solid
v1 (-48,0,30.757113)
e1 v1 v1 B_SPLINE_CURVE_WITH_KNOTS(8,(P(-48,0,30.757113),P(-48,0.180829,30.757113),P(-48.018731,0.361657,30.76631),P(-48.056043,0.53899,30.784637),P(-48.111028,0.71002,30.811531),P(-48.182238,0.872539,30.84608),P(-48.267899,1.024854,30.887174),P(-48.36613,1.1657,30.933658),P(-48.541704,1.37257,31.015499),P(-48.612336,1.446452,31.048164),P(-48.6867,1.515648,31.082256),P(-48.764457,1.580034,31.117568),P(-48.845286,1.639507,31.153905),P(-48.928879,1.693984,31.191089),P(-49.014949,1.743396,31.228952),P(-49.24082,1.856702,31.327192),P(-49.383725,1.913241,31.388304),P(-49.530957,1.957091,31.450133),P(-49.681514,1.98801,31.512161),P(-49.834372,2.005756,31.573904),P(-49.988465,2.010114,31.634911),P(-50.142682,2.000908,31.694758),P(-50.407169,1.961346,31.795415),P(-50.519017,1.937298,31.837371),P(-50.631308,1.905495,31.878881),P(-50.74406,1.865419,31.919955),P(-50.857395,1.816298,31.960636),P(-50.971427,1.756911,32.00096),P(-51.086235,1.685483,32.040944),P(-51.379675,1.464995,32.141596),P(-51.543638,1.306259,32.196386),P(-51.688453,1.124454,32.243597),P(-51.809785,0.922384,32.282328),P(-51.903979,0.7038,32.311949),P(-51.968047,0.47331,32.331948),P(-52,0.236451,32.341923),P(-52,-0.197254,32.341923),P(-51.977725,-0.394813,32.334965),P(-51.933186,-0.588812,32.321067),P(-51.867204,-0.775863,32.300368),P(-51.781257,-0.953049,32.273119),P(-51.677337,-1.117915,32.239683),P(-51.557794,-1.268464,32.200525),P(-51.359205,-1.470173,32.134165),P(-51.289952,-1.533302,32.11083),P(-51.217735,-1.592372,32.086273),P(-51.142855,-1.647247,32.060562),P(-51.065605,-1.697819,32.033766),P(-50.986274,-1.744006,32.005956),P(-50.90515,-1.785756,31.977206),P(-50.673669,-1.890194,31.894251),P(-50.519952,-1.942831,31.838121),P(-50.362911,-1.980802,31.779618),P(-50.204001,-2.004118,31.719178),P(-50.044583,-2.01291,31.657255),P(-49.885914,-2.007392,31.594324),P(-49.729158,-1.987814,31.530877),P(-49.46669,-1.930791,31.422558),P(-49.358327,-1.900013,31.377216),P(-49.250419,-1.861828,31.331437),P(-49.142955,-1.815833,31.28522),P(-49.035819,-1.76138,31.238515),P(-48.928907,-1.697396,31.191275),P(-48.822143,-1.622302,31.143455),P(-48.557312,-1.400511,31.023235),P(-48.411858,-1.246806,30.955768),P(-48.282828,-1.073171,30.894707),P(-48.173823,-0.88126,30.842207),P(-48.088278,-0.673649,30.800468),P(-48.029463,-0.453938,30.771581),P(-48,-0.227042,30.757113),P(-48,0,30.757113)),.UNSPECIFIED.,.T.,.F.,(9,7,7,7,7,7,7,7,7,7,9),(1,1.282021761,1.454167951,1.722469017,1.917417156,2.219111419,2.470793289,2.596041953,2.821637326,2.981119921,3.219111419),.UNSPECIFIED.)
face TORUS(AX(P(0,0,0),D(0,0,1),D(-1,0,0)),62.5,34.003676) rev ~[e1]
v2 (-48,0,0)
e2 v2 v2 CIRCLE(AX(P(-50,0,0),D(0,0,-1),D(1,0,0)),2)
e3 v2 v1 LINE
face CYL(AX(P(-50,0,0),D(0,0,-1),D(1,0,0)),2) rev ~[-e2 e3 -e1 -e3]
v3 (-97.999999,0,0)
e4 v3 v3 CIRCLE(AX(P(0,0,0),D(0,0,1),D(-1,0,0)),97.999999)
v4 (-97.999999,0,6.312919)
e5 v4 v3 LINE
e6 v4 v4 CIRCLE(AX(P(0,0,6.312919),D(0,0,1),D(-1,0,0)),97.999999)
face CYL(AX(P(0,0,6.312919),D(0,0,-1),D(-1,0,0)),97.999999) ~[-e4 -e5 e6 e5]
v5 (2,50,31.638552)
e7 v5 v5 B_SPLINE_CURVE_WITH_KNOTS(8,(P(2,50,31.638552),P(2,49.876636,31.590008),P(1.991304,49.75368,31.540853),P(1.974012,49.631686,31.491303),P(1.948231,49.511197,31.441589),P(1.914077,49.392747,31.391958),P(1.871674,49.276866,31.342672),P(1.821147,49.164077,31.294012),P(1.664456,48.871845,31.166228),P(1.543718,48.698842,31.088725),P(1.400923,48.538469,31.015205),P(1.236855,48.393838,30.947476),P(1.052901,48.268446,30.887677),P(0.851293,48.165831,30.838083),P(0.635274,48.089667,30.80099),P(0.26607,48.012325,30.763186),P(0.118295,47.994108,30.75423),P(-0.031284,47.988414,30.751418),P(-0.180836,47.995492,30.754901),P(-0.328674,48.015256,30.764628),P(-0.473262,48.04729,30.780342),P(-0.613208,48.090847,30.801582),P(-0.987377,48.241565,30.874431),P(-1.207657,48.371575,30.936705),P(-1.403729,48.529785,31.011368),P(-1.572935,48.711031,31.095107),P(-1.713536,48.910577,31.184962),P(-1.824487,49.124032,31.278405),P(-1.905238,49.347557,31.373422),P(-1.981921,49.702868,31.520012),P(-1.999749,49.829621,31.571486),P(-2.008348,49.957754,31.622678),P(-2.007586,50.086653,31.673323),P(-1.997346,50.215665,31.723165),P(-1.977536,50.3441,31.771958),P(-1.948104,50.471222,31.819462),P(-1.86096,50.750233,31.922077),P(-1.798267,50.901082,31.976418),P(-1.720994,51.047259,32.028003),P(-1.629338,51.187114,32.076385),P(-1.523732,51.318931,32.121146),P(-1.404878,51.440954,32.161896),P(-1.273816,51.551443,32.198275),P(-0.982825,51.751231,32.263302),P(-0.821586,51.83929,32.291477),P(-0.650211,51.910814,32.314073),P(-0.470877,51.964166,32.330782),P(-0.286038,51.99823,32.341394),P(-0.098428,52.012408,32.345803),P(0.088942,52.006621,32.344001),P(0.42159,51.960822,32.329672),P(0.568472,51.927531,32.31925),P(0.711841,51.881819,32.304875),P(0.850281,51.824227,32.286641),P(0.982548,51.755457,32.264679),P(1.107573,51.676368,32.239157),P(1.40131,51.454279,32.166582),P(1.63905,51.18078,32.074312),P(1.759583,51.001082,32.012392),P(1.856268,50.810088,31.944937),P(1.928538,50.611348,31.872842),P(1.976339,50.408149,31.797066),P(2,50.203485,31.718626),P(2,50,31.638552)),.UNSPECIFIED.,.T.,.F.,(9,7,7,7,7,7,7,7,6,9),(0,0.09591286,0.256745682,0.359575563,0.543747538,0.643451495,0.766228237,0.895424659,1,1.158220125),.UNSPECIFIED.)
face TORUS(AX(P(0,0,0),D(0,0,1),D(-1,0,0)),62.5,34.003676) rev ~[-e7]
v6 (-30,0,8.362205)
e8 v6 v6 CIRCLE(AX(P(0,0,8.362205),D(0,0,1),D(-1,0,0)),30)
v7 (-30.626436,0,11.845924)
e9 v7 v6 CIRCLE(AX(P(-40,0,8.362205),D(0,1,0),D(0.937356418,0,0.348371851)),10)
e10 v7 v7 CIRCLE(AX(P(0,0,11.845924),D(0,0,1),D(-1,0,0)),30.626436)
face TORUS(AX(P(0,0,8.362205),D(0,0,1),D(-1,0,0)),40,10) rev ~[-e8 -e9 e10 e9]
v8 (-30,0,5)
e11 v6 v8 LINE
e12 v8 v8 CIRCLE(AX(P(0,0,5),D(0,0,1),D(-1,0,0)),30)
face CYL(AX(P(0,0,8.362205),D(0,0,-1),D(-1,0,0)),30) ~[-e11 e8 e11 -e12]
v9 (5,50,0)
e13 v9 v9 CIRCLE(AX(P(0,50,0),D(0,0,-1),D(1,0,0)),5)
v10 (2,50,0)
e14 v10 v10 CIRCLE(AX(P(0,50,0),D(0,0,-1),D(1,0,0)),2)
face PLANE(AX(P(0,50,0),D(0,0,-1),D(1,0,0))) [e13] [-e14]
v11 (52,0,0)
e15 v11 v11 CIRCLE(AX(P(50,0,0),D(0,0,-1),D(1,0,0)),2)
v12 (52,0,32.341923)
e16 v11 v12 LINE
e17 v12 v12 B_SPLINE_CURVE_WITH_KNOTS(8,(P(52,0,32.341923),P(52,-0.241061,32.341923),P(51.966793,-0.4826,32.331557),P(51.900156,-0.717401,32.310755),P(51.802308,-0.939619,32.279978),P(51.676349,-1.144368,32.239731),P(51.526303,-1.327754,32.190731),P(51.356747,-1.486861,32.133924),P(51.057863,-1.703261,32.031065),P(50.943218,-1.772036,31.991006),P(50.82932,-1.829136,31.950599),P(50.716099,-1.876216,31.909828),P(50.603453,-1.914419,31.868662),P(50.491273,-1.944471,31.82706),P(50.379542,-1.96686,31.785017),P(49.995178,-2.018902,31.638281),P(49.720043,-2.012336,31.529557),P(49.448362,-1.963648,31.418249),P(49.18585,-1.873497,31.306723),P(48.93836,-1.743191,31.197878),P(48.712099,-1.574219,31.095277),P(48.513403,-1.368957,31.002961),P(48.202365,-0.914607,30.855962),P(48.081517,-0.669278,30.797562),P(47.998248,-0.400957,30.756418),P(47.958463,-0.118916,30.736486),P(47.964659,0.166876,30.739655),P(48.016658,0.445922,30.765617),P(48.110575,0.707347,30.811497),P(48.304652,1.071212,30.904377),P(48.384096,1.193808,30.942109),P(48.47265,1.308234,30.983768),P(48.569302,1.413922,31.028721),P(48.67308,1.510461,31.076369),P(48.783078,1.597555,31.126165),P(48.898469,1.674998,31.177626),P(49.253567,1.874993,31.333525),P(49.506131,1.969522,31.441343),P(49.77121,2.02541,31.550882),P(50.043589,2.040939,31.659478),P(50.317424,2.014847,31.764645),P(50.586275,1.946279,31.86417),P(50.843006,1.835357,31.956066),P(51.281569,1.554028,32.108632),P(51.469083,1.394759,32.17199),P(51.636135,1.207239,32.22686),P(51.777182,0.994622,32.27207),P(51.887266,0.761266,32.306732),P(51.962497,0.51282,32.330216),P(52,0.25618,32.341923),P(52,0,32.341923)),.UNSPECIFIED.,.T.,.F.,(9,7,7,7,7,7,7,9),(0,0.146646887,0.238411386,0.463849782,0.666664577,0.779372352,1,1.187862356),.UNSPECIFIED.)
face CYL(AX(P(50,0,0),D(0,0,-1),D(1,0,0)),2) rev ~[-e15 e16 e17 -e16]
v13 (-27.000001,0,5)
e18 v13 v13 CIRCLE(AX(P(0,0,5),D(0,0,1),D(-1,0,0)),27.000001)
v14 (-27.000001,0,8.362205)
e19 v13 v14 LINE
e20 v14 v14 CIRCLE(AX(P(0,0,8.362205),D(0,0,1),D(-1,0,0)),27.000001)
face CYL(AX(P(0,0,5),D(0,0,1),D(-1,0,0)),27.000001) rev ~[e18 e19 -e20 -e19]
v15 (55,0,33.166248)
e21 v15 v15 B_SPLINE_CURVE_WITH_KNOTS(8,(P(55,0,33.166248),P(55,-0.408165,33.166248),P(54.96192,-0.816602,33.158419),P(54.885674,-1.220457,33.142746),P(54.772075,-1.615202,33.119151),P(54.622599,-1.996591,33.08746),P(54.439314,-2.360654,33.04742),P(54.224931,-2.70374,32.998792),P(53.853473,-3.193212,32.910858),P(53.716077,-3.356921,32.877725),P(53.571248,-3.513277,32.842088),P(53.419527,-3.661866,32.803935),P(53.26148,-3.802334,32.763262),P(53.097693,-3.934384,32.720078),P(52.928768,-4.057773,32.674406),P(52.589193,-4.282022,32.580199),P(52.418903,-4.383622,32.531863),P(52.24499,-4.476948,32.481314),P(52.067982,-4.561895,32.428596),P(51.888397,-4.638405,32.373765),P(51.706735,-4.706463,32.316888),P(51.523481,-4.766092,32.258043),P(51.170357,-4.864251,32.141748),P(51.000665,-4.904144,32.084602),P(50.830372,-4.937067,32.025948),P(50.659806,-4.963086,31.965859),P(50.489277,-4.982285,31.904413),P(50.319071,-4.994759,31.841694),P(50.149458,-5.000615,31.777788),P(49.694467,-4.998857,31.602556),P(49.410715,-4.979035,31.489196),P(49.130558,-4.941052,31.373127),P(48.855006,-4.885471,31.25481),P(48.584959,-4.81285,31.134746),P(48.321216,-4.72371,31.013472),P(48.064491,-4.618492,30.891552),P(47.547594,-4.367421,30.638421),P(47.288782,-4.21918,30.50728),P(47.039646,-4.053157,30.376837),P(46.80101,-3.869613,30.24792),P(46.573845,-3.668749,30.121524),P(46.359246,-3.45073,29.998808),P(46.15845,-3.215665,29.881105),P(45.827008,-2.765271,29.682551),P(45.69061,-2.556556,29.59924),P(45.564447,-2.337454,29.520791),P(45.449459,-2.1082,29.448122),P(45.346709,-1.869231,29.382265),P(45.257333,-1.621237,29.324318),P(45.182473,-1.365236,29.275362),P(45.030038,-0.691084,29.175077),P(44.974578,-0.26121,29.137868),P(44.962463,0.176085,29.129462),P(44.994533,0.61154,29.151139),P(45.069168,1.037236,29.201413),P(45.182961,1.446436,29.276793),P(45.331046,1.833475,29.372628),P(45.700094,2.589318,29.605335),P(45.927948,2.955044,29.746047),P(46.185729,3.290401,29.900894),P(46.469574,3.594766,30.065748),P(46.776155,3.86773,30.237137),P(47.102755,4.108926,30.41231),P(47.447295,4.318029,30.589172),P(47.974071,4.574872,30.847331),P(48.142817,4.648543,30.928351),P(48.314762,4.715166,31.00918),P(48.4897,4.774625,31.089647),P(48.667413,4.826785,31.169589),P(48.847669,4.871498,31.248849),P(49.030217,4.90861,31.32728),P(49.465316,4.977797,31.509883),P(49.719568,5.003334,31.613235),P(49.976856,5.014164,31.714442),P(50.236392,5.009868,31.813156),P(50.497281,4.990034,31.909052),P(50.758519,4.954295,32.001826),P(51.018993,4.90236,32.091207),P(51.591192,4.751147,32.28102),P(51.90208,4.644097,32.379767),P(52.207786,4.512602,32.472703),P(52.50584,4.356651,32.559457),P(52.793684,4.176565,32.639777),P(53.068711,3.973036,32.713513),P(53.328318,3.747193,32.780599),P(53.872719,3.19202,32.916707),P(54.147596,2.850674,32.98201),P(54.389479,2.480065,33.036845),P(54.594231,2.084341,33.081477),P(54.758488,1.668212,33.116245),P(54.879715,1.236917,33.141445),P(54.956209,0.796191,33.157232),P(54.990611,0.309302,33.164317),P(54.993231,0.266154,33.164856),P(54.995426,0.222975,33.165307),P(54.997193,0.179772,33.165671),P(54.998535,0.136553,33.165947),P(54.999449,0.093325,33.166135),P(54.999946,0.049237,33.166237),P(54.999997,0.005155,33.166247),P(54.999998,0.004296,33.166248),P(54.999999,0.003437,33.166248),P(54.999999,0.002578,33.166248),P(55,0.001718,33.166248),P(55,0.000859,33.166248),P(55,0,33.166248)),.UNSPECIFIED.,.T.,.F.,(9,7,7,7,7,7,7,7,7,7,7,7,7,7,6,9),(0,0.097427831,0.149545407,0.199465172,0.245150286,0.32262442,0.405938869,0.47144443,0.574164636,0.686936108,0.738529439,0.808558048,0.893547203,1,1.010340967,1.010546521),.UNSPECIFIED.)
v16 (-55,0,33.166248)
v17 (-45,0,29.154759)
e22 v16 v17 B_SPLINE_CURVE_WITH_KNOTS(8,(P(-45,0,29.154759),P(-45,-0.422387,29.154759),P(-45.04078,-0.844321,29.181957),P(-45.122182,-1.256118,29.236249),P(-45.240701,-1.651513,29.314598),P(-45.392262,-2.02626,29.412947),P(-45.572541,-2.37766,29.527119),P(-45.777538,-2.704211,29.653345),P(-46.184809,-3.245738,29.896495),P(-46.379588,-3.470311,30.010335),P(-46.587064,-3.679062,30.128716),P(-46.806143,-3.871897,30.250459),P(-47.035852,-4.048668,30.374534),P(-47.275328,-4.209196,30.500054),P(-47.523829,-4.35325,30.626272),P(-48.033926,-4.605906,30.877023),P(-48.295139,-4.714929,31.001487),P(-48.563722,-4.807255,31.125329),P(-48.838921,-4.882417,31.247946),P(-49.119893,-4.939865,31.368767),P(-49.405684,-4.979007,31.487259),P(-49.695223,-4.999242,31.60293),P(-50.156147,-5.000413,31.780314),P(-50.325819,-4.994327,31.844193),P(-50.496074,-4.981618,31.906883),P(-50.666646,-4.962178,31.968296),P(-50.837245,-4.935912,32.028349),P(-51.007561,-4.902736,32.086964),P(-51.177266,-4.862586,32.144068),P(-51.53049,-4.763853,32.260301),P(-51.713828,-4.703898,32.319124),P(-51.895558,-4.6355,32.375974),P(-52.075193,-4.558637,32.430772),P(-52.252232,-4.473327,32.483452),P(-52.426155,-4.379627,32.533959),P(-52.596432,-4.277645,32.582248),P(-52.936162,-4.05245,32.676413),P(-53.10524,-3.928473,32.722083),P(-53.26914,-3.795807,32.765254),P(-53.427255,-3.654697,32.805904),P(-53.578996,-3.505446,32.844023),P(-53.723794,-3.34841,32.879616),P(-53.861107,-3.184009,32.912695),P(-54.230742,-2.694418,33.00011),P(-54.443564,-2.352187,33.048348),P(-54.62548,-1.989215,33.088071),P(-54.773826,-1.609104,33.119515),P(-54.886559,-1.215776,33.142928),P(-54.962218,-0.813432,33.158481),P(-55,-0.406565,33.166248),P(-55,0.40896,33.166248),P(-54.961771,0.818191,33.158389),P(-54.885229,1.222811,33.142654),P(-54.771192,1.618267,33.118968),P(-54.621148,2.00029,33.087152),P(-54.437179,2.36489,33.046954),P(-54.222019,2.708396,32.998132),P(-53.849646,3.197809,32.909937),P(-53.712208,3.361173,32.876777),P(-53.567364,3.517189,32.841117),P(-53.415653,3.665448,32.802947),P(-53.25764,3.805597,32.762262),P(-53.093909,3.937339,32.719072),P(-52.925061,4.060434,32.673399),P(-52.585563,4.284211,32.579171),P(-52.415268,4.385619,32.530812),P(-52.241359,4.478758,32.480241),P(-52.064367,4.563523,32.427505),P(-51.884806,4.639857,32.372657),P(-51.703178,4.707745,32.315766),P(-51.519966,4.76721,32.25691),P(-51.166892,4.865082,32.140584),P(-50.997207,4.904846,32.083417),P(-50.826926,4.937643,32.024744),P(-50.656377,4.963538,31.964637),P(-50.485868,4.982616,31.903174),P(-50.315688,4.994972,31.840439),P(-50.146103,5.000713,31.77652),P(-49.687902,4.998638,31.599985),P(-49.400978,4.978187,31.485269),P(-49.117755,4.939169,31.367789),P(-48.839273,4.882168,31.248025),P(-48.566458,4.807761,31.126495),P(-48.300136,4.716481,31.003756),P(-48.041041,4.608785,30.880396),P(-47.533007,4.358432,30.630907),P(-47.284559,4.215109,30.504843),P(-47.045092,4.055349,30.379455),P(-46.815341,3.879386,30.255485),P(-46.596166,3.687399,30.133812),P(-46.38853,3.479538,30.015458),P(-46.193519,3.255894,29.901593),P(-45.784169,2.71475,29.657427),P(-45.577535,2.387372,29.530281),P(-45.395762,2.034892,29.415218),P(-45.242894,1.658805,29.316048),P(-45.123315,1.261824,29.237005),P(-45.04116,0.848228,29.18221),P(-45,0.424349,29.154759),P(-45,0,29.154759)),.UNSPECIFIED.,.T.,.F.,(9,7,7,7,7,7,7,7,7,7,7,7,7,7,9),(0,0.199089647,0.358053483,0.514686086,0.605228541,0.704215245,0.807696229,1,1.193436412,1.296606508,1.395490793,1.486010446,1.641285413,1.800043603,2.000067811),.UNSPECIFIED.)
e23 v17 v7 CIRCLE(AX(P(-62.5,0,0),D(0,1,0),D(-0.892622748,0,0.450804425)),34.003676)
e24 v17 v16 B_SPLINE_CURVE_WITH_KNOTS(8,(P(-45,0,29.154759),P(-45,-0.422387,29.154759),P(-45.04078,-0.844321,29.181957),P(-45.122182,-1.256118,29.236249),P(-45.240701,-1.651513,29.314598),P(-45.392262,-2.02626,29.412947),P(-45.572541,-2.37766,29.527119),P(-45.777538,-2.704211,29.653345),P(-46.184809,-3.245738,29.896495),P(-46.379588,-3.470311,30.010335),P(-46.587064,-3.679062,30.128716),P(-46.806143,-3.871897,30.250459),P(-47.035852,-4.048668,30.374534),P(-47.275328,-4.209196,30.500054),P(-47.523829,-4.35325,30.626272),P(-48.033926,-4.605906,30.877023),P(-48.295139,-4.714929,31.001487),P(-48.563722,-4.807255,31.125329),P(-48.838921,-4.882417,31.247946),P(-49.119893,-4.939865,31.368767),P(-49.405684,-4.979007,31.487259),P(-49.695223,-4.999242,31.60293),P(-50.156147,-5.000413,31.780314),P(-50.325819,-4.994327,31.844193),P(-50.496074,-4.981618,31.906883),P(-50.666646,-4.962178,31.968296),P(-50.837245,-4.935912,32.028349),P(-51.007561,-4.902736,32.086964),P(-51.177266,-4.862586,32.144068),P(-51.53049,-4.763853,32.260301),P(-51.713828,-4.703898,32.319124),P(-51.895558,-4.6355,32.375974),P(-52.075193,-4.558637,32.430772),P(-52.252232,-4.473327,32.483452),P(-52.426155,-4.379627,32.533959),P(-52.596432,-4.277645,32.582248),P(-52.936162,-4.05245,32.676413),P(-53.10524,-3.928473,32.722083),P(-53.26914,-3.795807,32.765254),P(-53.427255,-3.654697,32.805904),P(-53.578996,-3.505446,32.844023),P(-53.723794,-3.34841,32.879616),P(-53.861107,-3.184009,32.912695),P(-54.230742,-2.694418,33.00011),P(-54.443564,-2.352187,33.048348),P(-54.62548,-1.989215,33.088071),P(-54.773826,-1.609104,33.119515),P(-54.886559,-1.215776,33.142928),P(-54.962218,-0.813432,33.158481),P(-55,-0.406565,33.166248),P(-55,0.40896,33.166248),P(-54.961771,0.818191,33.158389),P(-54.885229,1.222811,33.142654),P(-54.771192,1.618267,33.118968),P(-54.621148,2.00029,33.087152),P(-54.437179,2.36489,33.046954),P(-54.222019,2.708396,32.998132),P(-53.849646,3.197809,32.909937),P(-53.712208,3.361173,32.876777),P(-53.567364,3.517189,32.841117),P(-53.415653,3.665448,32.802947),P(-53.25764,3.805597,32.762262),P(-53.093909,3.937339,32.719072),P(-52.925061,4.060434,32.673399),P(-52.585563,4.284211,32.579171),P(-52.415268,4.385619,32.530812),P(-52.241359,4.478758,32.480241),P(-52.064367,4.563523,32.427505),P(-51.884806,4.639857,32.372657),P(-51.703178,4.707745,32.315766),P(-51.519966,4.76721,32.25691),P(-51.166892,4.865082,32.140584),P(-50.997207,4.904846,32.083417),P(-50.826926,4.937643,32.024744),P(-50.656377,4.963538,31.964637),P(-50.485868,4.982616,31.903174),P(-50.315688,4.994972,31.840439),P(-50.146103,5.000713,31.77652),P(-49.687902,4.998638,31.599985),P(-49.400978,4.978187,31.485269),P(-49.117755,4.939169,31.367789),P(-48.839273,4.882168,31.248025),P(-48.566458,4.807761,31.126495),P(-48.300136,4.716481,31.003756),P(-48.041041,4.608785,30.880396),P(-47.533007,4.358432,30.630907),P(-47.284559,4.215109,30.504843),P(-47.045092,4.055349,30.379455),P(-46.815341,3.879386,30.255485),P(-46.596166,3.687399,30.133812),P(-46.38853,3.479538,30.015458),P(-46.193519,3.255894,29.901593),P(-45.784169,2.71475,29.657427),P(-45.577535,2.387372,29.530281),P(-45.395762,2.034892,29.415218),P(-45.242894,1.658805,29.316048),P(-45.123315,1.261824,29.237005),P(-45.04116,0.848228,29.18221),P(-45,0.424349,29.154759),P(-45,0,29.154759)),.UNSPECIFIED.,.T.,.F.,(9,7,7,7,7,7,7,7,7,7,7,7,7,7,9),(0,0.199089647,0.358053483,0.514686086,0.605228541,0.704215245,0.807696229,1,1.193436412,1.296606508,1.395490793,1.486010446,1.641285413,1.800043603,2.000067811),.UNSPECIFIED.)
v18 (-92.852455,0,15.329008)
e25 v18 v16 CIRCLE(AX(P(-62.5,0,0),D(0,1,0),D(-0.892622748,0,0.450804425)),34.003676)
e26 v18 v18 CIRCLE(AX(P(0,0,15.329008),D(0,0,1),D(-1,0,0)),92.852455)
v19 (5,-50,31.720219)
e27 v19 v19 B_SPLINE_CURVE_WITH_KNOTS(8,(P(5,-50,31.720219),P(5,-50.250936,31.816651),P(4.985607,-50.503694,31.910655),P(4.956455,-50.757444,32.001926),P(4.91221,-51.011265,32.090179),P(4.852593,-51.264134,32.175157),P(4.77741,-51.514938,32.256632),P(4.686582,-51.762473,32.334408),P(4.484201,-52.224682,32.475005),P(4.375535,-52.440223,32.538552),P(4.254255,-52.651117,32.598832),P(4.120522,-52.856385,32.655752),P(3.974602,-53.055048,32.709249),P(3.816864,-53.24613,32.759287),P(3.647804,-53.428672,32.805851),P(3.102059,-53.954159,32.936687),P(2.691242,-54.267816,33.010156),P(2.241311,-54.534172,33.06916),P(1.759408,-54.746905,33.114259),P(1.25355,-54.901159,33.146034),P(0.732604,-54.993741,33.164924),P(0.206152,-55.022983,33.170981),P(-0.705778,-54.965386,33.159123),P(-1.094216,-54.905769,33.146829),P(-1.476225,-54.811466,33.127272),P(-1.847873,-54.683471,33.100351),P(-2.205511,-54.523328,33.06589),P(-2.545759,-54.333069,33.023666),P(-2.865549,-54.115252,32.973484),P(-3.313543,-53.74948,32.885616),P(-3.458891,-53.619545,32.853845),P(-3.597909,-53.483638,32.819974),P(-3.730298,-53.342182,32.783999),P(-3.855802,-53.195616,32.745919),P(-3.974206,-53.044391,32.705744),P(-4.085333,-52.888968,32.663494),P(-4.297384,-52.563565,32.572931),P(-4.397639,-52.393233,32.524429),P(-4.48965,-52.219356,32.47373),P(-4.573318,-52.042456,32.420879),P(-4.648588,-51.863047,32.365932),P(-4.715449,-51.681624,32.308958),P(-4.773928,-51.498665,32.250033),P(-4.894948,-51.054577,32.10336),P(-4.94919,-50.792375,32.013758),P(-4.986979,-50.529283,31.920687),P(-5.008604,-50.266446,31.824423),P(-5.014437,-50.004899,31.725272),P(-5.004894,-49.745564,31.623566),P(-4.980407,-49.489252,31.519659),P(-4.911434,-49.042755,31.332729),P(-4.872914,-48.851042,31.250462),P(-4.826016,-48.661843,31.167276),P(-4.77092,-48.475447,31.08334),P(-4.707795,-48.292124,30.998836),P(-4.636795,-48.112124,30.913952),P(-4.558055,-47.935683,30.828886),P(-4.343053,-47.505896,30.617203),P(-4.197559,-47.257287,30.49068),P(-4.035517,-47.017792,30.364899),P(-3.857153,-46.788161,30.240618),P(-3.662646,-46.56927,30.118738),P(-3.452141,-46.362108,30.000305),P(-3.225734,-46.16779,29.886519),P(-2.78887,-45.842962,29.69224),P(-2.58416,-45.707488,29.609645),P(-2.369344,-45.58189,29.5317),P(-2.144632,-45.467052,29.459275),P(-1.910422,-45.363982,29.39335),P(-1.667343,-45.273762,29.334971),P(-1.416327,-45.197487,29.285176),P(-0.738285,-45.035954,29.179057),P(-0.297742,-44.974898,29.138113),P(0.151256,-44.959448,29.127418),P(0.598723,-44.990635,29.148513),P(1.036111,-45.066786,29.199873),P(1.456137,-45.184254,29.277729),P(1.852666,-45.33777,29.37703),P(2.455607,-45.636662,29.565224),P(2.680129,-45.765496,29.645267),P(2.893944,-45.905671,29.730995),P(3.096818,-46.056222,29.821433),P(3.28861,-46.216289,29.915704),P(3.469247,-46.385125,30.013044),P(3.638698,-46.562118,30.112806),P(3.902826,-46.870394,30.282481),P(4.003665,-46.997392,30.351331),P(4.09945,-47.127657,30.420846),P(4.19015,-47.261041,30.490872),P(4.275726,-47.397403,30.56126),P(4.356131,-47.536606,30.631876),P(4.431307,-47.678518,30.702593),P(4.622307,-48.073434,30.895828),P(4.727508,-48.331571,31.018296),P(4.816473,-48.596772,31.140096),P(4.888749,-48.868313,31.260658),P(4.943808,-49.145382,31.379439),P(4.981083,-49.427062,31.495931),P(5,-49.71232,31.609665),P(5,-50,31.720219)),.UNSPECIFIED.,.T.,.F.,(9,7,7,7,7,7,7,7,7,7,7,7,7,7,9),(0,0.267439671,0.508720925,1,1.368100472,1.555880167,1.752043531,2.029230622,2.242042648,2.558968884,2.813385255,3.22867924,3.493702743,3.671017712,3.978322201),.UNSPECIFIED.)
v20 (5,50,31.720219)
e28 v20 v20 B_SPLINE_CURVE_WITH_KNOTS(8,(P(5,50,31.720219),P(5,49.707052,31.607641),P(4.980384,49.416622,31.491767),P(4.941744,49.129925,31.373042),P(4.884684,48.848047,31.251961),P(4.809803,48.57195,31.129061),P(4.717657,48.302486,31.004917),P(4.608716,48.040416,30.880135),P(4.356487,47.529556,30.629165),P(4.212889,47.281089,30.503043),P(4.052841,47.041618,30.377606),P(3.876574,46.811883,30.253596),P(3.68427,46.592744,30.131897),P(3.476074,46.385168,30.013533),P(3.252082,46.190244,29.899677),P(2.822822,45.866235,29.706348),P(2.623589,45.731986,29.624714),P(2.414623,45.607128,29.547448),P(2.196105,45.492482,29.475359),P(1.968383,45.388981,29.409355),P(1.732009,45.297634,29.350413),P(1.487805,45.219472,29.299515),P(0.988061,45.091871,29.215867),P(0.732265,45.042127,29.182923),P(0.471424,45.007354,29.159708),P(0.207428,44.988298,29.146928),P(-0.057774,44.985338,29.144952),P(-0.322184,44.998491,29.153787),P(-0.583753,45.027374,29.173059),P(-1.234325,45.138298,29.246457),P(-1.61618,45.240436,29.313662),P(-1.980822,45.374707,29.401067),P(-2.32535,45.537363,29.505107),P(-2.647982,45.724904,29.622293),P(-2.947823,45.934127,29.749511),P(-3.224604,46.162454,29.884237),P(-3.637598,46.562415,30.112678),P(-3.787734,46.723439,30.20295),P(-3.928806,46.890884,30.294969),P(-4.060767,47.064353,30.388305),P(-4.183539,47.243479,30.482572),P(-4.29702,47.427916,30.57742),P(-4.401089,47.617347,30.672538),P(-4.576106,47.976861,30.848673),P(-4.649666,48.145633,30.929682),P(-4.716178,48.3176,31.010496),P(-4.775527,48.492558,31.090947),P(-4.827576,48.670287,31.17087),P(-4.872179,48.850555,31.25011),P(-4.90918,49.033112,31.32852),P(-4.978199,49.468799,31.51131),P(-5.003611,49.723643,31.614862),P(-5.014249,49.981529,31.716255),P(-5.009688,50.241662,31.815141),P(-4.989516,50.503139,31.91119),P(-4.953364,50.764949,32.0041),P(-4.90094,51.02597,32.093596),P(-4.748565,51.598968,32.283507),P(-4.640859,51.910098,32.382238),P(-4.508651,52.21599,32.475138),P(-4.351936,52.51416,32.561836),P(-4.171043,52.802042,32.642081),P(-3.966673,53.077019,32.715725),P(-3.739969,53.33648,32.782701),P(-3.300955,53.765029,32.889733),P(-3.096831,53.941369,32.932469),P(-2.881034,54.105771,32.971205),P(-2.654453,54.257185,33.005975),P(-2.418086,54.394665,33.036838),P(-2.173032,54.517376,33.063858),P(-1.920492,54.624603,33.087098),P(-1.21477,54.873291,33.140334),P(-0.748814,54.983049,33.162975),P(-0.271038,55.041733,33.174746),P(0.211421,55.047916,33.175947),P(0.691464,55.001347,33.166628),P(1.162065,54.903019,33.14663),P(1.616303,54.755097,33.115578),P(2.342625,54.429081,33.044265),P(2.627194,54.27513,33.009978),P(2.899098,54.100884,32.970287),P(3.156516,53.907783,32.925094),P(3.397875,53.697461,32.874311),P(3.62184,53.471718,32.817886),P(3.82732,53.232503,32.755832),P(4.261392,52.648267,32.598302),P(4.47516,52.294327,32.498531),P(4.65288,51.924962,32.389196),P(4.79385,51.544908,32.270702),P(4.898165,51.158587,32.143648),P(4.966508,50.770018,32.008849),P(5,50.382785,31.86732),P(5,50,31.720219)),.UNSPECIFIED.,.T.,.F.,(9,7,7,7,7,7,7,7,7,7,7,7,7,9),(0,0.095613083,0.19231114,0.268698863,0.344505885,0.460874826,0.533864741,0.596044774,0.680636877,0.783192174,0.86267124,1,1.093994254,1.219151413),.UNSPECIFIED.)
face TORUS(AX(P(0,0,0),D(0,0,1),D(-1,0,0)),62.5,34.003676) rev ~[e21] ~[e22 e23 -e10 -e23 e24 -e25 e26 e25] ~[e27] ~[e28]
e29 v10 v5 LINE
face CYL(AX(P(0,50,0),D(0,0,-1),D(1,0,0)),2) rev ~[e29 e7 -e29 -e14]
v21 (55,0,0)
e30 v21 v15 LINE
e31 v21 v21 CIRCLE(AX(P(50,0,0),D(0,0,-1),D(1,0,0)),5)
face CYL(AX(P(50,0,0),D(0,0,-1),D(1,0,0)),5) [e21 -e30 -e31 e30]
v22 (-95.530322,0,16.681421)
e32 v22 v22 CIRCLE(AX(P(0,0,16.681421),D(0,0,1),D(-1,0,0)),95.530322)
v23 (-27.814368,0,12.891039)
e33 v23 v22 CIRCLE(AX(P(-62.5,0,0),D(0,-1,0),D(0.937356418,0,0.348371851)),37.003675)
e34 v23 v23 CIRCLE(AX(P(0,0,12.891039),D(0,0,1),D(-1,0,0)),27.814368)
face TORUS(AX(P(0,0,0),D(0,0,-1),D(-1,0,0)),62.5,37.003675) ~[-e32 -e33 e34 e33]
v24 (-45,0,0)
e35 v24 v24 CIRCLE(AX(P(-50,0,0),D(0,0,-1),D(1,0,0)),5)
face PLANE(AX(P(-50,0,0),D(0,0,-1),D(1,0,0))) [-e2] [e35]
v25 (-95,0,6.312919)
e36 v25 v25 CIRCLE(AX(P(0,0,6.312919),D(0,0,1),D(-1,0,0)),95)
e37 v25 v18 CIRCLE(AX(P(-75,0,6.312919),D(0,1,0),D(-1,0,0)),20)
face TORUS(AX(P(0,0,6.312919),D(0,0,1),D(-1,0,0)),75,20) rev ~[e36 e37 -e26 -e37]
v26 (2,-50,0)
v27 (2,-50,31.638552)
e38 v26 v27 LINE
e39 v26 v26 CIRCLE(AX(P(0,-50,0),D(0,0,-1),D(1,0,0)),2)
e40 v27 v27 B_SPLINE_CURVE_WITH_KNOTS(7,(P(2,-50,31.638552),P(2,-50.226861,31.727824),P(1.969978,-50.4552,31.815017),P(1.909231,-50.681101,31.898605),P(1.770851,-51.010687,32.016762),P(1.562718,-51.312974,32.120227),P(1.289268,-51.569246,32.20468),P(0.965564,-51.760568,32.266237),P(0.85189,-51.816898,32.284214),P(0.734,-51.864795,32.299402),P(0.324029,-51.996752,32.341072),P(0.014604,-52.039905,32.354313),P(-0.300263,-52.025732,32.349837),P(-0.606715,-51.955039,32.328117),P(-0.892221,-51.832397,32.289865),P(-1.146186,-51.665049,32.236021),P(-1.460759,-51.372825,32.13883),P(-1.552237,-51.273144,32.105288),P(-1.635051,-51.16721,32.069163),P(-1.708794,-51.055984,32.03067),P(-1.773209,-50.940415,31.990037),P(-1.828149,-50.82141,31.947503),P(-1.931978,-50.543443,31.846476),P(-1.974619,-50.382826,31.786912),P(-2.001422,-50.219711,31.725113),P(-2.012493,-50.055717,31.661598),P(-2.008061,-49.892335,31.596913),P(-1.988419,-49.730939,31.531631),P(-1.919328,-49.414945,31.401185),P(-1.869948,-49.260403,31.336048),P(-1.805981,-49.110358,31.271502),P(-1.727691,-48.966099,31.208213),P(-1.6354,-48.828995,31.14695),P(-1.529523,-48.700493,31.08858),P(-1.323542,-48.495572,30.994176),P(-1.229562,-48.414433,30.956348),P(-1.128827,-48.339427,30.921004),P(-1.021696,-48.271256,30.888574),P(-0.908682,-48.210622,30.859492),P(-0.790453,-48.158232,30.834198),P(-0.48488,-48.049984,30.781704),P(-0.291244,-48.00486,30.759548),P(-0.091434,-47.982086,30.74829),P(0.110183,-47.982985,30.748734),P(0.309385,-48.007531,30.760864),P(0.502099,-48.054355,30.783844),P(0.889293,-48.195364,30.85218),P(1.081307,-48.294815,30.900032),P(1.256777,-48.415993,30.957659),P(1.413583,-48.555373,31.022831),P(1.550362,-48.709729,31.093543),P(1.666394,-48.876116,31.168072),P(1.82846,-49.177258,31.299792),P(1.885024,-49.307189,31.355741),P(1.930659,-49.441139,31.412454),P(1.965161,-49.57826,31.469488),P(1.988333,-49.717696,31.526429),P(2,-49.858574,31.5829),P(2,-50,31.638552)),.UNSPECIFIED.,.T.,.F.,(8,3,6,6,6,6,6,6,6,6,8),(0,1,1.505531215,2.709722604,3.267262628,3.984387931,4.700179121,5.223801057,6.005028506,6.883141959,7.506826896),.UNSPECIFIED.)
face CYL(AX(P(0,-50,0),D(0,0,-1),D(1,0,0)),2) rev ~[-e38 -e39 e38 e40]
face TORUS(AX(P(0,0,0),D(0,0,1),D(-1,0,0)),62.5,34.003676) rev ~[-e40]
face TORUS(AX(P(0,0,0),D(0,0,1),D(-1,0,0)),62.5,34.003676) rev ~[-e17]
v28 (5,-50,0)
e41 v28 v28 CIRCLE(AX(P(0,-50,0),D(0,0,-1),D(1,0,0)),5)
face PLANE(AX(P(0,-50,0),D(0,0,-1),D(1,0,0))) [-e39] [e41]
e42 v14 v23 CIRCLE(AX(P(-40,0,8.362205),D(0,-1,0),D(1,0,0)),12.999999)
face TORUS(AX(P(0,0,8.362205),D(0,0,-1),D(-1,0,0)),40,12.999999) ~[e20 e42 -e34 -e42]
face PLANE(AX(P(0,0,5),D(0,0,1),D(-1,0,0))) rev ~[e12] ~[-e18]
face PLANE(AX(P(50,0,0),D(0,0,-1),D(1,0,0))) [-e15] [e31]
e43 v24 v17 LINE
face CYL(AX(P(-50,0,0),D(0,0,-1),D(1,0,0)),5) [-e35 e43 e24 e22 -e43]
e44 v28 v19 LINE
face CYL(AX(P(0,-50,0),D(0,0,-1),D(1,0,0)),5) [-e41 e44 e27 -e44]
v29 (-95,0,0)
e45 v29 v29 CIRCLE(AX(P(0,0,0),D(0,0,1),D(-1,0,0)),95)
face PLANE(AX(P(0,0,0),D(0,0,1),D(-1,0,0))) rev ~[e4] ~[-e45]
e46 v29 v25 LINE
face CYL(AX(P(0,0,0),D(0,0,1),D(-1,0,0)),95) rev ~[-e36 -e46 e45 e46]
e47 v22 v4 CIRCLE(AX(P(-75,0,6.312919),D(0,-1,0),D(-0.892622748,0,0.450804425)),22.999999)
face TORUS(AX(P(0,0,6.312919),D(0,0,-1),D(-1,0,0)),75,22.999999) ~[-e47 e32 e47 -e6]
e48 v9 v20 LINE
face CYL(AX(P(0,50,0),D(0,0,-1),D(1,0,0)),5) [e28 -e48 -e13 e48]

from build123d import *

# Parameters (mm, degrees)
F2_R   = 5
F2_R_2 = 2


with BuildPart() as f1:
    # F0 (on Front) → F1 (revolve)
    with BuildSketch(Plane.XZ):
        with BuildLine():
            ThreePointArc((-92.8524549659, 15.3290077155), (-60.59962846, 33.9505314835), (-30.6264358238, 11.8459236323))
            ThreePointArc((-30.6264358238, 11.8459236323), (-30.1578548638, 10.1320014752), (-30, 8.3622051256))
            Line((-30, 8.3622051256), (-30, 5))
            Line((-30, 5), (-27.0000010729, 5))
            Line((-27.0000010729, 5), (-27.0000010729, 8.3622051256))
            ThreePointArc((-27.0000010729, 8.3622051256), (-27.2052123789, 10.6629401901), (-27.8143675765, 12.8910388105))
            ThreePointArc((-27.8143675765, 12.8910388105), (-60.4319668067, 36.9458416732), (-95.5303222531, 16.6814205056))
            ThreePointArc((-95.5303222531, 16.6814205056), (-97.3740624434, 11.6422043941), (-97.9999989271, 6.3129192238))
            Line((-97.9999989271, 6.3129192238), (-97.9999989271, 0))
            Line((-97.9999989271, 0), (-95, 0))
            Line((-95, 0), (-95, 6.3129192238))
            ThreePointArc((-95, 6.3129192238), (-94.4557073801, 10.9470804576), (-92.8524549659, 15.3290077155))
        make_face()
    revolve(axis=Axis((0, 0, 34.4163365662), (0, 0, 1)))

    # F2 (on face) → F3 (join, up to the next surface of F1)
    with BuildSketch(Plane(origin=(0, 0, 0), x_dir=(1, 0, 0), z_dir=(0, 0, -1))):
        with Locations((-50, 0)):
            Circle(F2_R)
        with Locations((-50, 0)):
            Circle(F2_R_2, mode=Mode.SUBTRACT)
        with Locations((0, -50)):
            Circle(F2_R)
        with Locations((0, -50)):
            Circle(F2_R_2, mode=Mode.SUBTRACT)
        with Locations((50, 0)):
            Circle(F2_R)
        with Locations((50, 0)):
            Circle(F2_R_2, mode=Mode.SUBTRACT)
        with Locations((0, 50)):
            Circle(F2_R)
        with Locations((0, 50)):
            Circle(F2_R_2, mode=Mode.SUBTRACT)
    extrude(until=Until.NEXT, dir=(0, 0, 1))


solid = f1.part
